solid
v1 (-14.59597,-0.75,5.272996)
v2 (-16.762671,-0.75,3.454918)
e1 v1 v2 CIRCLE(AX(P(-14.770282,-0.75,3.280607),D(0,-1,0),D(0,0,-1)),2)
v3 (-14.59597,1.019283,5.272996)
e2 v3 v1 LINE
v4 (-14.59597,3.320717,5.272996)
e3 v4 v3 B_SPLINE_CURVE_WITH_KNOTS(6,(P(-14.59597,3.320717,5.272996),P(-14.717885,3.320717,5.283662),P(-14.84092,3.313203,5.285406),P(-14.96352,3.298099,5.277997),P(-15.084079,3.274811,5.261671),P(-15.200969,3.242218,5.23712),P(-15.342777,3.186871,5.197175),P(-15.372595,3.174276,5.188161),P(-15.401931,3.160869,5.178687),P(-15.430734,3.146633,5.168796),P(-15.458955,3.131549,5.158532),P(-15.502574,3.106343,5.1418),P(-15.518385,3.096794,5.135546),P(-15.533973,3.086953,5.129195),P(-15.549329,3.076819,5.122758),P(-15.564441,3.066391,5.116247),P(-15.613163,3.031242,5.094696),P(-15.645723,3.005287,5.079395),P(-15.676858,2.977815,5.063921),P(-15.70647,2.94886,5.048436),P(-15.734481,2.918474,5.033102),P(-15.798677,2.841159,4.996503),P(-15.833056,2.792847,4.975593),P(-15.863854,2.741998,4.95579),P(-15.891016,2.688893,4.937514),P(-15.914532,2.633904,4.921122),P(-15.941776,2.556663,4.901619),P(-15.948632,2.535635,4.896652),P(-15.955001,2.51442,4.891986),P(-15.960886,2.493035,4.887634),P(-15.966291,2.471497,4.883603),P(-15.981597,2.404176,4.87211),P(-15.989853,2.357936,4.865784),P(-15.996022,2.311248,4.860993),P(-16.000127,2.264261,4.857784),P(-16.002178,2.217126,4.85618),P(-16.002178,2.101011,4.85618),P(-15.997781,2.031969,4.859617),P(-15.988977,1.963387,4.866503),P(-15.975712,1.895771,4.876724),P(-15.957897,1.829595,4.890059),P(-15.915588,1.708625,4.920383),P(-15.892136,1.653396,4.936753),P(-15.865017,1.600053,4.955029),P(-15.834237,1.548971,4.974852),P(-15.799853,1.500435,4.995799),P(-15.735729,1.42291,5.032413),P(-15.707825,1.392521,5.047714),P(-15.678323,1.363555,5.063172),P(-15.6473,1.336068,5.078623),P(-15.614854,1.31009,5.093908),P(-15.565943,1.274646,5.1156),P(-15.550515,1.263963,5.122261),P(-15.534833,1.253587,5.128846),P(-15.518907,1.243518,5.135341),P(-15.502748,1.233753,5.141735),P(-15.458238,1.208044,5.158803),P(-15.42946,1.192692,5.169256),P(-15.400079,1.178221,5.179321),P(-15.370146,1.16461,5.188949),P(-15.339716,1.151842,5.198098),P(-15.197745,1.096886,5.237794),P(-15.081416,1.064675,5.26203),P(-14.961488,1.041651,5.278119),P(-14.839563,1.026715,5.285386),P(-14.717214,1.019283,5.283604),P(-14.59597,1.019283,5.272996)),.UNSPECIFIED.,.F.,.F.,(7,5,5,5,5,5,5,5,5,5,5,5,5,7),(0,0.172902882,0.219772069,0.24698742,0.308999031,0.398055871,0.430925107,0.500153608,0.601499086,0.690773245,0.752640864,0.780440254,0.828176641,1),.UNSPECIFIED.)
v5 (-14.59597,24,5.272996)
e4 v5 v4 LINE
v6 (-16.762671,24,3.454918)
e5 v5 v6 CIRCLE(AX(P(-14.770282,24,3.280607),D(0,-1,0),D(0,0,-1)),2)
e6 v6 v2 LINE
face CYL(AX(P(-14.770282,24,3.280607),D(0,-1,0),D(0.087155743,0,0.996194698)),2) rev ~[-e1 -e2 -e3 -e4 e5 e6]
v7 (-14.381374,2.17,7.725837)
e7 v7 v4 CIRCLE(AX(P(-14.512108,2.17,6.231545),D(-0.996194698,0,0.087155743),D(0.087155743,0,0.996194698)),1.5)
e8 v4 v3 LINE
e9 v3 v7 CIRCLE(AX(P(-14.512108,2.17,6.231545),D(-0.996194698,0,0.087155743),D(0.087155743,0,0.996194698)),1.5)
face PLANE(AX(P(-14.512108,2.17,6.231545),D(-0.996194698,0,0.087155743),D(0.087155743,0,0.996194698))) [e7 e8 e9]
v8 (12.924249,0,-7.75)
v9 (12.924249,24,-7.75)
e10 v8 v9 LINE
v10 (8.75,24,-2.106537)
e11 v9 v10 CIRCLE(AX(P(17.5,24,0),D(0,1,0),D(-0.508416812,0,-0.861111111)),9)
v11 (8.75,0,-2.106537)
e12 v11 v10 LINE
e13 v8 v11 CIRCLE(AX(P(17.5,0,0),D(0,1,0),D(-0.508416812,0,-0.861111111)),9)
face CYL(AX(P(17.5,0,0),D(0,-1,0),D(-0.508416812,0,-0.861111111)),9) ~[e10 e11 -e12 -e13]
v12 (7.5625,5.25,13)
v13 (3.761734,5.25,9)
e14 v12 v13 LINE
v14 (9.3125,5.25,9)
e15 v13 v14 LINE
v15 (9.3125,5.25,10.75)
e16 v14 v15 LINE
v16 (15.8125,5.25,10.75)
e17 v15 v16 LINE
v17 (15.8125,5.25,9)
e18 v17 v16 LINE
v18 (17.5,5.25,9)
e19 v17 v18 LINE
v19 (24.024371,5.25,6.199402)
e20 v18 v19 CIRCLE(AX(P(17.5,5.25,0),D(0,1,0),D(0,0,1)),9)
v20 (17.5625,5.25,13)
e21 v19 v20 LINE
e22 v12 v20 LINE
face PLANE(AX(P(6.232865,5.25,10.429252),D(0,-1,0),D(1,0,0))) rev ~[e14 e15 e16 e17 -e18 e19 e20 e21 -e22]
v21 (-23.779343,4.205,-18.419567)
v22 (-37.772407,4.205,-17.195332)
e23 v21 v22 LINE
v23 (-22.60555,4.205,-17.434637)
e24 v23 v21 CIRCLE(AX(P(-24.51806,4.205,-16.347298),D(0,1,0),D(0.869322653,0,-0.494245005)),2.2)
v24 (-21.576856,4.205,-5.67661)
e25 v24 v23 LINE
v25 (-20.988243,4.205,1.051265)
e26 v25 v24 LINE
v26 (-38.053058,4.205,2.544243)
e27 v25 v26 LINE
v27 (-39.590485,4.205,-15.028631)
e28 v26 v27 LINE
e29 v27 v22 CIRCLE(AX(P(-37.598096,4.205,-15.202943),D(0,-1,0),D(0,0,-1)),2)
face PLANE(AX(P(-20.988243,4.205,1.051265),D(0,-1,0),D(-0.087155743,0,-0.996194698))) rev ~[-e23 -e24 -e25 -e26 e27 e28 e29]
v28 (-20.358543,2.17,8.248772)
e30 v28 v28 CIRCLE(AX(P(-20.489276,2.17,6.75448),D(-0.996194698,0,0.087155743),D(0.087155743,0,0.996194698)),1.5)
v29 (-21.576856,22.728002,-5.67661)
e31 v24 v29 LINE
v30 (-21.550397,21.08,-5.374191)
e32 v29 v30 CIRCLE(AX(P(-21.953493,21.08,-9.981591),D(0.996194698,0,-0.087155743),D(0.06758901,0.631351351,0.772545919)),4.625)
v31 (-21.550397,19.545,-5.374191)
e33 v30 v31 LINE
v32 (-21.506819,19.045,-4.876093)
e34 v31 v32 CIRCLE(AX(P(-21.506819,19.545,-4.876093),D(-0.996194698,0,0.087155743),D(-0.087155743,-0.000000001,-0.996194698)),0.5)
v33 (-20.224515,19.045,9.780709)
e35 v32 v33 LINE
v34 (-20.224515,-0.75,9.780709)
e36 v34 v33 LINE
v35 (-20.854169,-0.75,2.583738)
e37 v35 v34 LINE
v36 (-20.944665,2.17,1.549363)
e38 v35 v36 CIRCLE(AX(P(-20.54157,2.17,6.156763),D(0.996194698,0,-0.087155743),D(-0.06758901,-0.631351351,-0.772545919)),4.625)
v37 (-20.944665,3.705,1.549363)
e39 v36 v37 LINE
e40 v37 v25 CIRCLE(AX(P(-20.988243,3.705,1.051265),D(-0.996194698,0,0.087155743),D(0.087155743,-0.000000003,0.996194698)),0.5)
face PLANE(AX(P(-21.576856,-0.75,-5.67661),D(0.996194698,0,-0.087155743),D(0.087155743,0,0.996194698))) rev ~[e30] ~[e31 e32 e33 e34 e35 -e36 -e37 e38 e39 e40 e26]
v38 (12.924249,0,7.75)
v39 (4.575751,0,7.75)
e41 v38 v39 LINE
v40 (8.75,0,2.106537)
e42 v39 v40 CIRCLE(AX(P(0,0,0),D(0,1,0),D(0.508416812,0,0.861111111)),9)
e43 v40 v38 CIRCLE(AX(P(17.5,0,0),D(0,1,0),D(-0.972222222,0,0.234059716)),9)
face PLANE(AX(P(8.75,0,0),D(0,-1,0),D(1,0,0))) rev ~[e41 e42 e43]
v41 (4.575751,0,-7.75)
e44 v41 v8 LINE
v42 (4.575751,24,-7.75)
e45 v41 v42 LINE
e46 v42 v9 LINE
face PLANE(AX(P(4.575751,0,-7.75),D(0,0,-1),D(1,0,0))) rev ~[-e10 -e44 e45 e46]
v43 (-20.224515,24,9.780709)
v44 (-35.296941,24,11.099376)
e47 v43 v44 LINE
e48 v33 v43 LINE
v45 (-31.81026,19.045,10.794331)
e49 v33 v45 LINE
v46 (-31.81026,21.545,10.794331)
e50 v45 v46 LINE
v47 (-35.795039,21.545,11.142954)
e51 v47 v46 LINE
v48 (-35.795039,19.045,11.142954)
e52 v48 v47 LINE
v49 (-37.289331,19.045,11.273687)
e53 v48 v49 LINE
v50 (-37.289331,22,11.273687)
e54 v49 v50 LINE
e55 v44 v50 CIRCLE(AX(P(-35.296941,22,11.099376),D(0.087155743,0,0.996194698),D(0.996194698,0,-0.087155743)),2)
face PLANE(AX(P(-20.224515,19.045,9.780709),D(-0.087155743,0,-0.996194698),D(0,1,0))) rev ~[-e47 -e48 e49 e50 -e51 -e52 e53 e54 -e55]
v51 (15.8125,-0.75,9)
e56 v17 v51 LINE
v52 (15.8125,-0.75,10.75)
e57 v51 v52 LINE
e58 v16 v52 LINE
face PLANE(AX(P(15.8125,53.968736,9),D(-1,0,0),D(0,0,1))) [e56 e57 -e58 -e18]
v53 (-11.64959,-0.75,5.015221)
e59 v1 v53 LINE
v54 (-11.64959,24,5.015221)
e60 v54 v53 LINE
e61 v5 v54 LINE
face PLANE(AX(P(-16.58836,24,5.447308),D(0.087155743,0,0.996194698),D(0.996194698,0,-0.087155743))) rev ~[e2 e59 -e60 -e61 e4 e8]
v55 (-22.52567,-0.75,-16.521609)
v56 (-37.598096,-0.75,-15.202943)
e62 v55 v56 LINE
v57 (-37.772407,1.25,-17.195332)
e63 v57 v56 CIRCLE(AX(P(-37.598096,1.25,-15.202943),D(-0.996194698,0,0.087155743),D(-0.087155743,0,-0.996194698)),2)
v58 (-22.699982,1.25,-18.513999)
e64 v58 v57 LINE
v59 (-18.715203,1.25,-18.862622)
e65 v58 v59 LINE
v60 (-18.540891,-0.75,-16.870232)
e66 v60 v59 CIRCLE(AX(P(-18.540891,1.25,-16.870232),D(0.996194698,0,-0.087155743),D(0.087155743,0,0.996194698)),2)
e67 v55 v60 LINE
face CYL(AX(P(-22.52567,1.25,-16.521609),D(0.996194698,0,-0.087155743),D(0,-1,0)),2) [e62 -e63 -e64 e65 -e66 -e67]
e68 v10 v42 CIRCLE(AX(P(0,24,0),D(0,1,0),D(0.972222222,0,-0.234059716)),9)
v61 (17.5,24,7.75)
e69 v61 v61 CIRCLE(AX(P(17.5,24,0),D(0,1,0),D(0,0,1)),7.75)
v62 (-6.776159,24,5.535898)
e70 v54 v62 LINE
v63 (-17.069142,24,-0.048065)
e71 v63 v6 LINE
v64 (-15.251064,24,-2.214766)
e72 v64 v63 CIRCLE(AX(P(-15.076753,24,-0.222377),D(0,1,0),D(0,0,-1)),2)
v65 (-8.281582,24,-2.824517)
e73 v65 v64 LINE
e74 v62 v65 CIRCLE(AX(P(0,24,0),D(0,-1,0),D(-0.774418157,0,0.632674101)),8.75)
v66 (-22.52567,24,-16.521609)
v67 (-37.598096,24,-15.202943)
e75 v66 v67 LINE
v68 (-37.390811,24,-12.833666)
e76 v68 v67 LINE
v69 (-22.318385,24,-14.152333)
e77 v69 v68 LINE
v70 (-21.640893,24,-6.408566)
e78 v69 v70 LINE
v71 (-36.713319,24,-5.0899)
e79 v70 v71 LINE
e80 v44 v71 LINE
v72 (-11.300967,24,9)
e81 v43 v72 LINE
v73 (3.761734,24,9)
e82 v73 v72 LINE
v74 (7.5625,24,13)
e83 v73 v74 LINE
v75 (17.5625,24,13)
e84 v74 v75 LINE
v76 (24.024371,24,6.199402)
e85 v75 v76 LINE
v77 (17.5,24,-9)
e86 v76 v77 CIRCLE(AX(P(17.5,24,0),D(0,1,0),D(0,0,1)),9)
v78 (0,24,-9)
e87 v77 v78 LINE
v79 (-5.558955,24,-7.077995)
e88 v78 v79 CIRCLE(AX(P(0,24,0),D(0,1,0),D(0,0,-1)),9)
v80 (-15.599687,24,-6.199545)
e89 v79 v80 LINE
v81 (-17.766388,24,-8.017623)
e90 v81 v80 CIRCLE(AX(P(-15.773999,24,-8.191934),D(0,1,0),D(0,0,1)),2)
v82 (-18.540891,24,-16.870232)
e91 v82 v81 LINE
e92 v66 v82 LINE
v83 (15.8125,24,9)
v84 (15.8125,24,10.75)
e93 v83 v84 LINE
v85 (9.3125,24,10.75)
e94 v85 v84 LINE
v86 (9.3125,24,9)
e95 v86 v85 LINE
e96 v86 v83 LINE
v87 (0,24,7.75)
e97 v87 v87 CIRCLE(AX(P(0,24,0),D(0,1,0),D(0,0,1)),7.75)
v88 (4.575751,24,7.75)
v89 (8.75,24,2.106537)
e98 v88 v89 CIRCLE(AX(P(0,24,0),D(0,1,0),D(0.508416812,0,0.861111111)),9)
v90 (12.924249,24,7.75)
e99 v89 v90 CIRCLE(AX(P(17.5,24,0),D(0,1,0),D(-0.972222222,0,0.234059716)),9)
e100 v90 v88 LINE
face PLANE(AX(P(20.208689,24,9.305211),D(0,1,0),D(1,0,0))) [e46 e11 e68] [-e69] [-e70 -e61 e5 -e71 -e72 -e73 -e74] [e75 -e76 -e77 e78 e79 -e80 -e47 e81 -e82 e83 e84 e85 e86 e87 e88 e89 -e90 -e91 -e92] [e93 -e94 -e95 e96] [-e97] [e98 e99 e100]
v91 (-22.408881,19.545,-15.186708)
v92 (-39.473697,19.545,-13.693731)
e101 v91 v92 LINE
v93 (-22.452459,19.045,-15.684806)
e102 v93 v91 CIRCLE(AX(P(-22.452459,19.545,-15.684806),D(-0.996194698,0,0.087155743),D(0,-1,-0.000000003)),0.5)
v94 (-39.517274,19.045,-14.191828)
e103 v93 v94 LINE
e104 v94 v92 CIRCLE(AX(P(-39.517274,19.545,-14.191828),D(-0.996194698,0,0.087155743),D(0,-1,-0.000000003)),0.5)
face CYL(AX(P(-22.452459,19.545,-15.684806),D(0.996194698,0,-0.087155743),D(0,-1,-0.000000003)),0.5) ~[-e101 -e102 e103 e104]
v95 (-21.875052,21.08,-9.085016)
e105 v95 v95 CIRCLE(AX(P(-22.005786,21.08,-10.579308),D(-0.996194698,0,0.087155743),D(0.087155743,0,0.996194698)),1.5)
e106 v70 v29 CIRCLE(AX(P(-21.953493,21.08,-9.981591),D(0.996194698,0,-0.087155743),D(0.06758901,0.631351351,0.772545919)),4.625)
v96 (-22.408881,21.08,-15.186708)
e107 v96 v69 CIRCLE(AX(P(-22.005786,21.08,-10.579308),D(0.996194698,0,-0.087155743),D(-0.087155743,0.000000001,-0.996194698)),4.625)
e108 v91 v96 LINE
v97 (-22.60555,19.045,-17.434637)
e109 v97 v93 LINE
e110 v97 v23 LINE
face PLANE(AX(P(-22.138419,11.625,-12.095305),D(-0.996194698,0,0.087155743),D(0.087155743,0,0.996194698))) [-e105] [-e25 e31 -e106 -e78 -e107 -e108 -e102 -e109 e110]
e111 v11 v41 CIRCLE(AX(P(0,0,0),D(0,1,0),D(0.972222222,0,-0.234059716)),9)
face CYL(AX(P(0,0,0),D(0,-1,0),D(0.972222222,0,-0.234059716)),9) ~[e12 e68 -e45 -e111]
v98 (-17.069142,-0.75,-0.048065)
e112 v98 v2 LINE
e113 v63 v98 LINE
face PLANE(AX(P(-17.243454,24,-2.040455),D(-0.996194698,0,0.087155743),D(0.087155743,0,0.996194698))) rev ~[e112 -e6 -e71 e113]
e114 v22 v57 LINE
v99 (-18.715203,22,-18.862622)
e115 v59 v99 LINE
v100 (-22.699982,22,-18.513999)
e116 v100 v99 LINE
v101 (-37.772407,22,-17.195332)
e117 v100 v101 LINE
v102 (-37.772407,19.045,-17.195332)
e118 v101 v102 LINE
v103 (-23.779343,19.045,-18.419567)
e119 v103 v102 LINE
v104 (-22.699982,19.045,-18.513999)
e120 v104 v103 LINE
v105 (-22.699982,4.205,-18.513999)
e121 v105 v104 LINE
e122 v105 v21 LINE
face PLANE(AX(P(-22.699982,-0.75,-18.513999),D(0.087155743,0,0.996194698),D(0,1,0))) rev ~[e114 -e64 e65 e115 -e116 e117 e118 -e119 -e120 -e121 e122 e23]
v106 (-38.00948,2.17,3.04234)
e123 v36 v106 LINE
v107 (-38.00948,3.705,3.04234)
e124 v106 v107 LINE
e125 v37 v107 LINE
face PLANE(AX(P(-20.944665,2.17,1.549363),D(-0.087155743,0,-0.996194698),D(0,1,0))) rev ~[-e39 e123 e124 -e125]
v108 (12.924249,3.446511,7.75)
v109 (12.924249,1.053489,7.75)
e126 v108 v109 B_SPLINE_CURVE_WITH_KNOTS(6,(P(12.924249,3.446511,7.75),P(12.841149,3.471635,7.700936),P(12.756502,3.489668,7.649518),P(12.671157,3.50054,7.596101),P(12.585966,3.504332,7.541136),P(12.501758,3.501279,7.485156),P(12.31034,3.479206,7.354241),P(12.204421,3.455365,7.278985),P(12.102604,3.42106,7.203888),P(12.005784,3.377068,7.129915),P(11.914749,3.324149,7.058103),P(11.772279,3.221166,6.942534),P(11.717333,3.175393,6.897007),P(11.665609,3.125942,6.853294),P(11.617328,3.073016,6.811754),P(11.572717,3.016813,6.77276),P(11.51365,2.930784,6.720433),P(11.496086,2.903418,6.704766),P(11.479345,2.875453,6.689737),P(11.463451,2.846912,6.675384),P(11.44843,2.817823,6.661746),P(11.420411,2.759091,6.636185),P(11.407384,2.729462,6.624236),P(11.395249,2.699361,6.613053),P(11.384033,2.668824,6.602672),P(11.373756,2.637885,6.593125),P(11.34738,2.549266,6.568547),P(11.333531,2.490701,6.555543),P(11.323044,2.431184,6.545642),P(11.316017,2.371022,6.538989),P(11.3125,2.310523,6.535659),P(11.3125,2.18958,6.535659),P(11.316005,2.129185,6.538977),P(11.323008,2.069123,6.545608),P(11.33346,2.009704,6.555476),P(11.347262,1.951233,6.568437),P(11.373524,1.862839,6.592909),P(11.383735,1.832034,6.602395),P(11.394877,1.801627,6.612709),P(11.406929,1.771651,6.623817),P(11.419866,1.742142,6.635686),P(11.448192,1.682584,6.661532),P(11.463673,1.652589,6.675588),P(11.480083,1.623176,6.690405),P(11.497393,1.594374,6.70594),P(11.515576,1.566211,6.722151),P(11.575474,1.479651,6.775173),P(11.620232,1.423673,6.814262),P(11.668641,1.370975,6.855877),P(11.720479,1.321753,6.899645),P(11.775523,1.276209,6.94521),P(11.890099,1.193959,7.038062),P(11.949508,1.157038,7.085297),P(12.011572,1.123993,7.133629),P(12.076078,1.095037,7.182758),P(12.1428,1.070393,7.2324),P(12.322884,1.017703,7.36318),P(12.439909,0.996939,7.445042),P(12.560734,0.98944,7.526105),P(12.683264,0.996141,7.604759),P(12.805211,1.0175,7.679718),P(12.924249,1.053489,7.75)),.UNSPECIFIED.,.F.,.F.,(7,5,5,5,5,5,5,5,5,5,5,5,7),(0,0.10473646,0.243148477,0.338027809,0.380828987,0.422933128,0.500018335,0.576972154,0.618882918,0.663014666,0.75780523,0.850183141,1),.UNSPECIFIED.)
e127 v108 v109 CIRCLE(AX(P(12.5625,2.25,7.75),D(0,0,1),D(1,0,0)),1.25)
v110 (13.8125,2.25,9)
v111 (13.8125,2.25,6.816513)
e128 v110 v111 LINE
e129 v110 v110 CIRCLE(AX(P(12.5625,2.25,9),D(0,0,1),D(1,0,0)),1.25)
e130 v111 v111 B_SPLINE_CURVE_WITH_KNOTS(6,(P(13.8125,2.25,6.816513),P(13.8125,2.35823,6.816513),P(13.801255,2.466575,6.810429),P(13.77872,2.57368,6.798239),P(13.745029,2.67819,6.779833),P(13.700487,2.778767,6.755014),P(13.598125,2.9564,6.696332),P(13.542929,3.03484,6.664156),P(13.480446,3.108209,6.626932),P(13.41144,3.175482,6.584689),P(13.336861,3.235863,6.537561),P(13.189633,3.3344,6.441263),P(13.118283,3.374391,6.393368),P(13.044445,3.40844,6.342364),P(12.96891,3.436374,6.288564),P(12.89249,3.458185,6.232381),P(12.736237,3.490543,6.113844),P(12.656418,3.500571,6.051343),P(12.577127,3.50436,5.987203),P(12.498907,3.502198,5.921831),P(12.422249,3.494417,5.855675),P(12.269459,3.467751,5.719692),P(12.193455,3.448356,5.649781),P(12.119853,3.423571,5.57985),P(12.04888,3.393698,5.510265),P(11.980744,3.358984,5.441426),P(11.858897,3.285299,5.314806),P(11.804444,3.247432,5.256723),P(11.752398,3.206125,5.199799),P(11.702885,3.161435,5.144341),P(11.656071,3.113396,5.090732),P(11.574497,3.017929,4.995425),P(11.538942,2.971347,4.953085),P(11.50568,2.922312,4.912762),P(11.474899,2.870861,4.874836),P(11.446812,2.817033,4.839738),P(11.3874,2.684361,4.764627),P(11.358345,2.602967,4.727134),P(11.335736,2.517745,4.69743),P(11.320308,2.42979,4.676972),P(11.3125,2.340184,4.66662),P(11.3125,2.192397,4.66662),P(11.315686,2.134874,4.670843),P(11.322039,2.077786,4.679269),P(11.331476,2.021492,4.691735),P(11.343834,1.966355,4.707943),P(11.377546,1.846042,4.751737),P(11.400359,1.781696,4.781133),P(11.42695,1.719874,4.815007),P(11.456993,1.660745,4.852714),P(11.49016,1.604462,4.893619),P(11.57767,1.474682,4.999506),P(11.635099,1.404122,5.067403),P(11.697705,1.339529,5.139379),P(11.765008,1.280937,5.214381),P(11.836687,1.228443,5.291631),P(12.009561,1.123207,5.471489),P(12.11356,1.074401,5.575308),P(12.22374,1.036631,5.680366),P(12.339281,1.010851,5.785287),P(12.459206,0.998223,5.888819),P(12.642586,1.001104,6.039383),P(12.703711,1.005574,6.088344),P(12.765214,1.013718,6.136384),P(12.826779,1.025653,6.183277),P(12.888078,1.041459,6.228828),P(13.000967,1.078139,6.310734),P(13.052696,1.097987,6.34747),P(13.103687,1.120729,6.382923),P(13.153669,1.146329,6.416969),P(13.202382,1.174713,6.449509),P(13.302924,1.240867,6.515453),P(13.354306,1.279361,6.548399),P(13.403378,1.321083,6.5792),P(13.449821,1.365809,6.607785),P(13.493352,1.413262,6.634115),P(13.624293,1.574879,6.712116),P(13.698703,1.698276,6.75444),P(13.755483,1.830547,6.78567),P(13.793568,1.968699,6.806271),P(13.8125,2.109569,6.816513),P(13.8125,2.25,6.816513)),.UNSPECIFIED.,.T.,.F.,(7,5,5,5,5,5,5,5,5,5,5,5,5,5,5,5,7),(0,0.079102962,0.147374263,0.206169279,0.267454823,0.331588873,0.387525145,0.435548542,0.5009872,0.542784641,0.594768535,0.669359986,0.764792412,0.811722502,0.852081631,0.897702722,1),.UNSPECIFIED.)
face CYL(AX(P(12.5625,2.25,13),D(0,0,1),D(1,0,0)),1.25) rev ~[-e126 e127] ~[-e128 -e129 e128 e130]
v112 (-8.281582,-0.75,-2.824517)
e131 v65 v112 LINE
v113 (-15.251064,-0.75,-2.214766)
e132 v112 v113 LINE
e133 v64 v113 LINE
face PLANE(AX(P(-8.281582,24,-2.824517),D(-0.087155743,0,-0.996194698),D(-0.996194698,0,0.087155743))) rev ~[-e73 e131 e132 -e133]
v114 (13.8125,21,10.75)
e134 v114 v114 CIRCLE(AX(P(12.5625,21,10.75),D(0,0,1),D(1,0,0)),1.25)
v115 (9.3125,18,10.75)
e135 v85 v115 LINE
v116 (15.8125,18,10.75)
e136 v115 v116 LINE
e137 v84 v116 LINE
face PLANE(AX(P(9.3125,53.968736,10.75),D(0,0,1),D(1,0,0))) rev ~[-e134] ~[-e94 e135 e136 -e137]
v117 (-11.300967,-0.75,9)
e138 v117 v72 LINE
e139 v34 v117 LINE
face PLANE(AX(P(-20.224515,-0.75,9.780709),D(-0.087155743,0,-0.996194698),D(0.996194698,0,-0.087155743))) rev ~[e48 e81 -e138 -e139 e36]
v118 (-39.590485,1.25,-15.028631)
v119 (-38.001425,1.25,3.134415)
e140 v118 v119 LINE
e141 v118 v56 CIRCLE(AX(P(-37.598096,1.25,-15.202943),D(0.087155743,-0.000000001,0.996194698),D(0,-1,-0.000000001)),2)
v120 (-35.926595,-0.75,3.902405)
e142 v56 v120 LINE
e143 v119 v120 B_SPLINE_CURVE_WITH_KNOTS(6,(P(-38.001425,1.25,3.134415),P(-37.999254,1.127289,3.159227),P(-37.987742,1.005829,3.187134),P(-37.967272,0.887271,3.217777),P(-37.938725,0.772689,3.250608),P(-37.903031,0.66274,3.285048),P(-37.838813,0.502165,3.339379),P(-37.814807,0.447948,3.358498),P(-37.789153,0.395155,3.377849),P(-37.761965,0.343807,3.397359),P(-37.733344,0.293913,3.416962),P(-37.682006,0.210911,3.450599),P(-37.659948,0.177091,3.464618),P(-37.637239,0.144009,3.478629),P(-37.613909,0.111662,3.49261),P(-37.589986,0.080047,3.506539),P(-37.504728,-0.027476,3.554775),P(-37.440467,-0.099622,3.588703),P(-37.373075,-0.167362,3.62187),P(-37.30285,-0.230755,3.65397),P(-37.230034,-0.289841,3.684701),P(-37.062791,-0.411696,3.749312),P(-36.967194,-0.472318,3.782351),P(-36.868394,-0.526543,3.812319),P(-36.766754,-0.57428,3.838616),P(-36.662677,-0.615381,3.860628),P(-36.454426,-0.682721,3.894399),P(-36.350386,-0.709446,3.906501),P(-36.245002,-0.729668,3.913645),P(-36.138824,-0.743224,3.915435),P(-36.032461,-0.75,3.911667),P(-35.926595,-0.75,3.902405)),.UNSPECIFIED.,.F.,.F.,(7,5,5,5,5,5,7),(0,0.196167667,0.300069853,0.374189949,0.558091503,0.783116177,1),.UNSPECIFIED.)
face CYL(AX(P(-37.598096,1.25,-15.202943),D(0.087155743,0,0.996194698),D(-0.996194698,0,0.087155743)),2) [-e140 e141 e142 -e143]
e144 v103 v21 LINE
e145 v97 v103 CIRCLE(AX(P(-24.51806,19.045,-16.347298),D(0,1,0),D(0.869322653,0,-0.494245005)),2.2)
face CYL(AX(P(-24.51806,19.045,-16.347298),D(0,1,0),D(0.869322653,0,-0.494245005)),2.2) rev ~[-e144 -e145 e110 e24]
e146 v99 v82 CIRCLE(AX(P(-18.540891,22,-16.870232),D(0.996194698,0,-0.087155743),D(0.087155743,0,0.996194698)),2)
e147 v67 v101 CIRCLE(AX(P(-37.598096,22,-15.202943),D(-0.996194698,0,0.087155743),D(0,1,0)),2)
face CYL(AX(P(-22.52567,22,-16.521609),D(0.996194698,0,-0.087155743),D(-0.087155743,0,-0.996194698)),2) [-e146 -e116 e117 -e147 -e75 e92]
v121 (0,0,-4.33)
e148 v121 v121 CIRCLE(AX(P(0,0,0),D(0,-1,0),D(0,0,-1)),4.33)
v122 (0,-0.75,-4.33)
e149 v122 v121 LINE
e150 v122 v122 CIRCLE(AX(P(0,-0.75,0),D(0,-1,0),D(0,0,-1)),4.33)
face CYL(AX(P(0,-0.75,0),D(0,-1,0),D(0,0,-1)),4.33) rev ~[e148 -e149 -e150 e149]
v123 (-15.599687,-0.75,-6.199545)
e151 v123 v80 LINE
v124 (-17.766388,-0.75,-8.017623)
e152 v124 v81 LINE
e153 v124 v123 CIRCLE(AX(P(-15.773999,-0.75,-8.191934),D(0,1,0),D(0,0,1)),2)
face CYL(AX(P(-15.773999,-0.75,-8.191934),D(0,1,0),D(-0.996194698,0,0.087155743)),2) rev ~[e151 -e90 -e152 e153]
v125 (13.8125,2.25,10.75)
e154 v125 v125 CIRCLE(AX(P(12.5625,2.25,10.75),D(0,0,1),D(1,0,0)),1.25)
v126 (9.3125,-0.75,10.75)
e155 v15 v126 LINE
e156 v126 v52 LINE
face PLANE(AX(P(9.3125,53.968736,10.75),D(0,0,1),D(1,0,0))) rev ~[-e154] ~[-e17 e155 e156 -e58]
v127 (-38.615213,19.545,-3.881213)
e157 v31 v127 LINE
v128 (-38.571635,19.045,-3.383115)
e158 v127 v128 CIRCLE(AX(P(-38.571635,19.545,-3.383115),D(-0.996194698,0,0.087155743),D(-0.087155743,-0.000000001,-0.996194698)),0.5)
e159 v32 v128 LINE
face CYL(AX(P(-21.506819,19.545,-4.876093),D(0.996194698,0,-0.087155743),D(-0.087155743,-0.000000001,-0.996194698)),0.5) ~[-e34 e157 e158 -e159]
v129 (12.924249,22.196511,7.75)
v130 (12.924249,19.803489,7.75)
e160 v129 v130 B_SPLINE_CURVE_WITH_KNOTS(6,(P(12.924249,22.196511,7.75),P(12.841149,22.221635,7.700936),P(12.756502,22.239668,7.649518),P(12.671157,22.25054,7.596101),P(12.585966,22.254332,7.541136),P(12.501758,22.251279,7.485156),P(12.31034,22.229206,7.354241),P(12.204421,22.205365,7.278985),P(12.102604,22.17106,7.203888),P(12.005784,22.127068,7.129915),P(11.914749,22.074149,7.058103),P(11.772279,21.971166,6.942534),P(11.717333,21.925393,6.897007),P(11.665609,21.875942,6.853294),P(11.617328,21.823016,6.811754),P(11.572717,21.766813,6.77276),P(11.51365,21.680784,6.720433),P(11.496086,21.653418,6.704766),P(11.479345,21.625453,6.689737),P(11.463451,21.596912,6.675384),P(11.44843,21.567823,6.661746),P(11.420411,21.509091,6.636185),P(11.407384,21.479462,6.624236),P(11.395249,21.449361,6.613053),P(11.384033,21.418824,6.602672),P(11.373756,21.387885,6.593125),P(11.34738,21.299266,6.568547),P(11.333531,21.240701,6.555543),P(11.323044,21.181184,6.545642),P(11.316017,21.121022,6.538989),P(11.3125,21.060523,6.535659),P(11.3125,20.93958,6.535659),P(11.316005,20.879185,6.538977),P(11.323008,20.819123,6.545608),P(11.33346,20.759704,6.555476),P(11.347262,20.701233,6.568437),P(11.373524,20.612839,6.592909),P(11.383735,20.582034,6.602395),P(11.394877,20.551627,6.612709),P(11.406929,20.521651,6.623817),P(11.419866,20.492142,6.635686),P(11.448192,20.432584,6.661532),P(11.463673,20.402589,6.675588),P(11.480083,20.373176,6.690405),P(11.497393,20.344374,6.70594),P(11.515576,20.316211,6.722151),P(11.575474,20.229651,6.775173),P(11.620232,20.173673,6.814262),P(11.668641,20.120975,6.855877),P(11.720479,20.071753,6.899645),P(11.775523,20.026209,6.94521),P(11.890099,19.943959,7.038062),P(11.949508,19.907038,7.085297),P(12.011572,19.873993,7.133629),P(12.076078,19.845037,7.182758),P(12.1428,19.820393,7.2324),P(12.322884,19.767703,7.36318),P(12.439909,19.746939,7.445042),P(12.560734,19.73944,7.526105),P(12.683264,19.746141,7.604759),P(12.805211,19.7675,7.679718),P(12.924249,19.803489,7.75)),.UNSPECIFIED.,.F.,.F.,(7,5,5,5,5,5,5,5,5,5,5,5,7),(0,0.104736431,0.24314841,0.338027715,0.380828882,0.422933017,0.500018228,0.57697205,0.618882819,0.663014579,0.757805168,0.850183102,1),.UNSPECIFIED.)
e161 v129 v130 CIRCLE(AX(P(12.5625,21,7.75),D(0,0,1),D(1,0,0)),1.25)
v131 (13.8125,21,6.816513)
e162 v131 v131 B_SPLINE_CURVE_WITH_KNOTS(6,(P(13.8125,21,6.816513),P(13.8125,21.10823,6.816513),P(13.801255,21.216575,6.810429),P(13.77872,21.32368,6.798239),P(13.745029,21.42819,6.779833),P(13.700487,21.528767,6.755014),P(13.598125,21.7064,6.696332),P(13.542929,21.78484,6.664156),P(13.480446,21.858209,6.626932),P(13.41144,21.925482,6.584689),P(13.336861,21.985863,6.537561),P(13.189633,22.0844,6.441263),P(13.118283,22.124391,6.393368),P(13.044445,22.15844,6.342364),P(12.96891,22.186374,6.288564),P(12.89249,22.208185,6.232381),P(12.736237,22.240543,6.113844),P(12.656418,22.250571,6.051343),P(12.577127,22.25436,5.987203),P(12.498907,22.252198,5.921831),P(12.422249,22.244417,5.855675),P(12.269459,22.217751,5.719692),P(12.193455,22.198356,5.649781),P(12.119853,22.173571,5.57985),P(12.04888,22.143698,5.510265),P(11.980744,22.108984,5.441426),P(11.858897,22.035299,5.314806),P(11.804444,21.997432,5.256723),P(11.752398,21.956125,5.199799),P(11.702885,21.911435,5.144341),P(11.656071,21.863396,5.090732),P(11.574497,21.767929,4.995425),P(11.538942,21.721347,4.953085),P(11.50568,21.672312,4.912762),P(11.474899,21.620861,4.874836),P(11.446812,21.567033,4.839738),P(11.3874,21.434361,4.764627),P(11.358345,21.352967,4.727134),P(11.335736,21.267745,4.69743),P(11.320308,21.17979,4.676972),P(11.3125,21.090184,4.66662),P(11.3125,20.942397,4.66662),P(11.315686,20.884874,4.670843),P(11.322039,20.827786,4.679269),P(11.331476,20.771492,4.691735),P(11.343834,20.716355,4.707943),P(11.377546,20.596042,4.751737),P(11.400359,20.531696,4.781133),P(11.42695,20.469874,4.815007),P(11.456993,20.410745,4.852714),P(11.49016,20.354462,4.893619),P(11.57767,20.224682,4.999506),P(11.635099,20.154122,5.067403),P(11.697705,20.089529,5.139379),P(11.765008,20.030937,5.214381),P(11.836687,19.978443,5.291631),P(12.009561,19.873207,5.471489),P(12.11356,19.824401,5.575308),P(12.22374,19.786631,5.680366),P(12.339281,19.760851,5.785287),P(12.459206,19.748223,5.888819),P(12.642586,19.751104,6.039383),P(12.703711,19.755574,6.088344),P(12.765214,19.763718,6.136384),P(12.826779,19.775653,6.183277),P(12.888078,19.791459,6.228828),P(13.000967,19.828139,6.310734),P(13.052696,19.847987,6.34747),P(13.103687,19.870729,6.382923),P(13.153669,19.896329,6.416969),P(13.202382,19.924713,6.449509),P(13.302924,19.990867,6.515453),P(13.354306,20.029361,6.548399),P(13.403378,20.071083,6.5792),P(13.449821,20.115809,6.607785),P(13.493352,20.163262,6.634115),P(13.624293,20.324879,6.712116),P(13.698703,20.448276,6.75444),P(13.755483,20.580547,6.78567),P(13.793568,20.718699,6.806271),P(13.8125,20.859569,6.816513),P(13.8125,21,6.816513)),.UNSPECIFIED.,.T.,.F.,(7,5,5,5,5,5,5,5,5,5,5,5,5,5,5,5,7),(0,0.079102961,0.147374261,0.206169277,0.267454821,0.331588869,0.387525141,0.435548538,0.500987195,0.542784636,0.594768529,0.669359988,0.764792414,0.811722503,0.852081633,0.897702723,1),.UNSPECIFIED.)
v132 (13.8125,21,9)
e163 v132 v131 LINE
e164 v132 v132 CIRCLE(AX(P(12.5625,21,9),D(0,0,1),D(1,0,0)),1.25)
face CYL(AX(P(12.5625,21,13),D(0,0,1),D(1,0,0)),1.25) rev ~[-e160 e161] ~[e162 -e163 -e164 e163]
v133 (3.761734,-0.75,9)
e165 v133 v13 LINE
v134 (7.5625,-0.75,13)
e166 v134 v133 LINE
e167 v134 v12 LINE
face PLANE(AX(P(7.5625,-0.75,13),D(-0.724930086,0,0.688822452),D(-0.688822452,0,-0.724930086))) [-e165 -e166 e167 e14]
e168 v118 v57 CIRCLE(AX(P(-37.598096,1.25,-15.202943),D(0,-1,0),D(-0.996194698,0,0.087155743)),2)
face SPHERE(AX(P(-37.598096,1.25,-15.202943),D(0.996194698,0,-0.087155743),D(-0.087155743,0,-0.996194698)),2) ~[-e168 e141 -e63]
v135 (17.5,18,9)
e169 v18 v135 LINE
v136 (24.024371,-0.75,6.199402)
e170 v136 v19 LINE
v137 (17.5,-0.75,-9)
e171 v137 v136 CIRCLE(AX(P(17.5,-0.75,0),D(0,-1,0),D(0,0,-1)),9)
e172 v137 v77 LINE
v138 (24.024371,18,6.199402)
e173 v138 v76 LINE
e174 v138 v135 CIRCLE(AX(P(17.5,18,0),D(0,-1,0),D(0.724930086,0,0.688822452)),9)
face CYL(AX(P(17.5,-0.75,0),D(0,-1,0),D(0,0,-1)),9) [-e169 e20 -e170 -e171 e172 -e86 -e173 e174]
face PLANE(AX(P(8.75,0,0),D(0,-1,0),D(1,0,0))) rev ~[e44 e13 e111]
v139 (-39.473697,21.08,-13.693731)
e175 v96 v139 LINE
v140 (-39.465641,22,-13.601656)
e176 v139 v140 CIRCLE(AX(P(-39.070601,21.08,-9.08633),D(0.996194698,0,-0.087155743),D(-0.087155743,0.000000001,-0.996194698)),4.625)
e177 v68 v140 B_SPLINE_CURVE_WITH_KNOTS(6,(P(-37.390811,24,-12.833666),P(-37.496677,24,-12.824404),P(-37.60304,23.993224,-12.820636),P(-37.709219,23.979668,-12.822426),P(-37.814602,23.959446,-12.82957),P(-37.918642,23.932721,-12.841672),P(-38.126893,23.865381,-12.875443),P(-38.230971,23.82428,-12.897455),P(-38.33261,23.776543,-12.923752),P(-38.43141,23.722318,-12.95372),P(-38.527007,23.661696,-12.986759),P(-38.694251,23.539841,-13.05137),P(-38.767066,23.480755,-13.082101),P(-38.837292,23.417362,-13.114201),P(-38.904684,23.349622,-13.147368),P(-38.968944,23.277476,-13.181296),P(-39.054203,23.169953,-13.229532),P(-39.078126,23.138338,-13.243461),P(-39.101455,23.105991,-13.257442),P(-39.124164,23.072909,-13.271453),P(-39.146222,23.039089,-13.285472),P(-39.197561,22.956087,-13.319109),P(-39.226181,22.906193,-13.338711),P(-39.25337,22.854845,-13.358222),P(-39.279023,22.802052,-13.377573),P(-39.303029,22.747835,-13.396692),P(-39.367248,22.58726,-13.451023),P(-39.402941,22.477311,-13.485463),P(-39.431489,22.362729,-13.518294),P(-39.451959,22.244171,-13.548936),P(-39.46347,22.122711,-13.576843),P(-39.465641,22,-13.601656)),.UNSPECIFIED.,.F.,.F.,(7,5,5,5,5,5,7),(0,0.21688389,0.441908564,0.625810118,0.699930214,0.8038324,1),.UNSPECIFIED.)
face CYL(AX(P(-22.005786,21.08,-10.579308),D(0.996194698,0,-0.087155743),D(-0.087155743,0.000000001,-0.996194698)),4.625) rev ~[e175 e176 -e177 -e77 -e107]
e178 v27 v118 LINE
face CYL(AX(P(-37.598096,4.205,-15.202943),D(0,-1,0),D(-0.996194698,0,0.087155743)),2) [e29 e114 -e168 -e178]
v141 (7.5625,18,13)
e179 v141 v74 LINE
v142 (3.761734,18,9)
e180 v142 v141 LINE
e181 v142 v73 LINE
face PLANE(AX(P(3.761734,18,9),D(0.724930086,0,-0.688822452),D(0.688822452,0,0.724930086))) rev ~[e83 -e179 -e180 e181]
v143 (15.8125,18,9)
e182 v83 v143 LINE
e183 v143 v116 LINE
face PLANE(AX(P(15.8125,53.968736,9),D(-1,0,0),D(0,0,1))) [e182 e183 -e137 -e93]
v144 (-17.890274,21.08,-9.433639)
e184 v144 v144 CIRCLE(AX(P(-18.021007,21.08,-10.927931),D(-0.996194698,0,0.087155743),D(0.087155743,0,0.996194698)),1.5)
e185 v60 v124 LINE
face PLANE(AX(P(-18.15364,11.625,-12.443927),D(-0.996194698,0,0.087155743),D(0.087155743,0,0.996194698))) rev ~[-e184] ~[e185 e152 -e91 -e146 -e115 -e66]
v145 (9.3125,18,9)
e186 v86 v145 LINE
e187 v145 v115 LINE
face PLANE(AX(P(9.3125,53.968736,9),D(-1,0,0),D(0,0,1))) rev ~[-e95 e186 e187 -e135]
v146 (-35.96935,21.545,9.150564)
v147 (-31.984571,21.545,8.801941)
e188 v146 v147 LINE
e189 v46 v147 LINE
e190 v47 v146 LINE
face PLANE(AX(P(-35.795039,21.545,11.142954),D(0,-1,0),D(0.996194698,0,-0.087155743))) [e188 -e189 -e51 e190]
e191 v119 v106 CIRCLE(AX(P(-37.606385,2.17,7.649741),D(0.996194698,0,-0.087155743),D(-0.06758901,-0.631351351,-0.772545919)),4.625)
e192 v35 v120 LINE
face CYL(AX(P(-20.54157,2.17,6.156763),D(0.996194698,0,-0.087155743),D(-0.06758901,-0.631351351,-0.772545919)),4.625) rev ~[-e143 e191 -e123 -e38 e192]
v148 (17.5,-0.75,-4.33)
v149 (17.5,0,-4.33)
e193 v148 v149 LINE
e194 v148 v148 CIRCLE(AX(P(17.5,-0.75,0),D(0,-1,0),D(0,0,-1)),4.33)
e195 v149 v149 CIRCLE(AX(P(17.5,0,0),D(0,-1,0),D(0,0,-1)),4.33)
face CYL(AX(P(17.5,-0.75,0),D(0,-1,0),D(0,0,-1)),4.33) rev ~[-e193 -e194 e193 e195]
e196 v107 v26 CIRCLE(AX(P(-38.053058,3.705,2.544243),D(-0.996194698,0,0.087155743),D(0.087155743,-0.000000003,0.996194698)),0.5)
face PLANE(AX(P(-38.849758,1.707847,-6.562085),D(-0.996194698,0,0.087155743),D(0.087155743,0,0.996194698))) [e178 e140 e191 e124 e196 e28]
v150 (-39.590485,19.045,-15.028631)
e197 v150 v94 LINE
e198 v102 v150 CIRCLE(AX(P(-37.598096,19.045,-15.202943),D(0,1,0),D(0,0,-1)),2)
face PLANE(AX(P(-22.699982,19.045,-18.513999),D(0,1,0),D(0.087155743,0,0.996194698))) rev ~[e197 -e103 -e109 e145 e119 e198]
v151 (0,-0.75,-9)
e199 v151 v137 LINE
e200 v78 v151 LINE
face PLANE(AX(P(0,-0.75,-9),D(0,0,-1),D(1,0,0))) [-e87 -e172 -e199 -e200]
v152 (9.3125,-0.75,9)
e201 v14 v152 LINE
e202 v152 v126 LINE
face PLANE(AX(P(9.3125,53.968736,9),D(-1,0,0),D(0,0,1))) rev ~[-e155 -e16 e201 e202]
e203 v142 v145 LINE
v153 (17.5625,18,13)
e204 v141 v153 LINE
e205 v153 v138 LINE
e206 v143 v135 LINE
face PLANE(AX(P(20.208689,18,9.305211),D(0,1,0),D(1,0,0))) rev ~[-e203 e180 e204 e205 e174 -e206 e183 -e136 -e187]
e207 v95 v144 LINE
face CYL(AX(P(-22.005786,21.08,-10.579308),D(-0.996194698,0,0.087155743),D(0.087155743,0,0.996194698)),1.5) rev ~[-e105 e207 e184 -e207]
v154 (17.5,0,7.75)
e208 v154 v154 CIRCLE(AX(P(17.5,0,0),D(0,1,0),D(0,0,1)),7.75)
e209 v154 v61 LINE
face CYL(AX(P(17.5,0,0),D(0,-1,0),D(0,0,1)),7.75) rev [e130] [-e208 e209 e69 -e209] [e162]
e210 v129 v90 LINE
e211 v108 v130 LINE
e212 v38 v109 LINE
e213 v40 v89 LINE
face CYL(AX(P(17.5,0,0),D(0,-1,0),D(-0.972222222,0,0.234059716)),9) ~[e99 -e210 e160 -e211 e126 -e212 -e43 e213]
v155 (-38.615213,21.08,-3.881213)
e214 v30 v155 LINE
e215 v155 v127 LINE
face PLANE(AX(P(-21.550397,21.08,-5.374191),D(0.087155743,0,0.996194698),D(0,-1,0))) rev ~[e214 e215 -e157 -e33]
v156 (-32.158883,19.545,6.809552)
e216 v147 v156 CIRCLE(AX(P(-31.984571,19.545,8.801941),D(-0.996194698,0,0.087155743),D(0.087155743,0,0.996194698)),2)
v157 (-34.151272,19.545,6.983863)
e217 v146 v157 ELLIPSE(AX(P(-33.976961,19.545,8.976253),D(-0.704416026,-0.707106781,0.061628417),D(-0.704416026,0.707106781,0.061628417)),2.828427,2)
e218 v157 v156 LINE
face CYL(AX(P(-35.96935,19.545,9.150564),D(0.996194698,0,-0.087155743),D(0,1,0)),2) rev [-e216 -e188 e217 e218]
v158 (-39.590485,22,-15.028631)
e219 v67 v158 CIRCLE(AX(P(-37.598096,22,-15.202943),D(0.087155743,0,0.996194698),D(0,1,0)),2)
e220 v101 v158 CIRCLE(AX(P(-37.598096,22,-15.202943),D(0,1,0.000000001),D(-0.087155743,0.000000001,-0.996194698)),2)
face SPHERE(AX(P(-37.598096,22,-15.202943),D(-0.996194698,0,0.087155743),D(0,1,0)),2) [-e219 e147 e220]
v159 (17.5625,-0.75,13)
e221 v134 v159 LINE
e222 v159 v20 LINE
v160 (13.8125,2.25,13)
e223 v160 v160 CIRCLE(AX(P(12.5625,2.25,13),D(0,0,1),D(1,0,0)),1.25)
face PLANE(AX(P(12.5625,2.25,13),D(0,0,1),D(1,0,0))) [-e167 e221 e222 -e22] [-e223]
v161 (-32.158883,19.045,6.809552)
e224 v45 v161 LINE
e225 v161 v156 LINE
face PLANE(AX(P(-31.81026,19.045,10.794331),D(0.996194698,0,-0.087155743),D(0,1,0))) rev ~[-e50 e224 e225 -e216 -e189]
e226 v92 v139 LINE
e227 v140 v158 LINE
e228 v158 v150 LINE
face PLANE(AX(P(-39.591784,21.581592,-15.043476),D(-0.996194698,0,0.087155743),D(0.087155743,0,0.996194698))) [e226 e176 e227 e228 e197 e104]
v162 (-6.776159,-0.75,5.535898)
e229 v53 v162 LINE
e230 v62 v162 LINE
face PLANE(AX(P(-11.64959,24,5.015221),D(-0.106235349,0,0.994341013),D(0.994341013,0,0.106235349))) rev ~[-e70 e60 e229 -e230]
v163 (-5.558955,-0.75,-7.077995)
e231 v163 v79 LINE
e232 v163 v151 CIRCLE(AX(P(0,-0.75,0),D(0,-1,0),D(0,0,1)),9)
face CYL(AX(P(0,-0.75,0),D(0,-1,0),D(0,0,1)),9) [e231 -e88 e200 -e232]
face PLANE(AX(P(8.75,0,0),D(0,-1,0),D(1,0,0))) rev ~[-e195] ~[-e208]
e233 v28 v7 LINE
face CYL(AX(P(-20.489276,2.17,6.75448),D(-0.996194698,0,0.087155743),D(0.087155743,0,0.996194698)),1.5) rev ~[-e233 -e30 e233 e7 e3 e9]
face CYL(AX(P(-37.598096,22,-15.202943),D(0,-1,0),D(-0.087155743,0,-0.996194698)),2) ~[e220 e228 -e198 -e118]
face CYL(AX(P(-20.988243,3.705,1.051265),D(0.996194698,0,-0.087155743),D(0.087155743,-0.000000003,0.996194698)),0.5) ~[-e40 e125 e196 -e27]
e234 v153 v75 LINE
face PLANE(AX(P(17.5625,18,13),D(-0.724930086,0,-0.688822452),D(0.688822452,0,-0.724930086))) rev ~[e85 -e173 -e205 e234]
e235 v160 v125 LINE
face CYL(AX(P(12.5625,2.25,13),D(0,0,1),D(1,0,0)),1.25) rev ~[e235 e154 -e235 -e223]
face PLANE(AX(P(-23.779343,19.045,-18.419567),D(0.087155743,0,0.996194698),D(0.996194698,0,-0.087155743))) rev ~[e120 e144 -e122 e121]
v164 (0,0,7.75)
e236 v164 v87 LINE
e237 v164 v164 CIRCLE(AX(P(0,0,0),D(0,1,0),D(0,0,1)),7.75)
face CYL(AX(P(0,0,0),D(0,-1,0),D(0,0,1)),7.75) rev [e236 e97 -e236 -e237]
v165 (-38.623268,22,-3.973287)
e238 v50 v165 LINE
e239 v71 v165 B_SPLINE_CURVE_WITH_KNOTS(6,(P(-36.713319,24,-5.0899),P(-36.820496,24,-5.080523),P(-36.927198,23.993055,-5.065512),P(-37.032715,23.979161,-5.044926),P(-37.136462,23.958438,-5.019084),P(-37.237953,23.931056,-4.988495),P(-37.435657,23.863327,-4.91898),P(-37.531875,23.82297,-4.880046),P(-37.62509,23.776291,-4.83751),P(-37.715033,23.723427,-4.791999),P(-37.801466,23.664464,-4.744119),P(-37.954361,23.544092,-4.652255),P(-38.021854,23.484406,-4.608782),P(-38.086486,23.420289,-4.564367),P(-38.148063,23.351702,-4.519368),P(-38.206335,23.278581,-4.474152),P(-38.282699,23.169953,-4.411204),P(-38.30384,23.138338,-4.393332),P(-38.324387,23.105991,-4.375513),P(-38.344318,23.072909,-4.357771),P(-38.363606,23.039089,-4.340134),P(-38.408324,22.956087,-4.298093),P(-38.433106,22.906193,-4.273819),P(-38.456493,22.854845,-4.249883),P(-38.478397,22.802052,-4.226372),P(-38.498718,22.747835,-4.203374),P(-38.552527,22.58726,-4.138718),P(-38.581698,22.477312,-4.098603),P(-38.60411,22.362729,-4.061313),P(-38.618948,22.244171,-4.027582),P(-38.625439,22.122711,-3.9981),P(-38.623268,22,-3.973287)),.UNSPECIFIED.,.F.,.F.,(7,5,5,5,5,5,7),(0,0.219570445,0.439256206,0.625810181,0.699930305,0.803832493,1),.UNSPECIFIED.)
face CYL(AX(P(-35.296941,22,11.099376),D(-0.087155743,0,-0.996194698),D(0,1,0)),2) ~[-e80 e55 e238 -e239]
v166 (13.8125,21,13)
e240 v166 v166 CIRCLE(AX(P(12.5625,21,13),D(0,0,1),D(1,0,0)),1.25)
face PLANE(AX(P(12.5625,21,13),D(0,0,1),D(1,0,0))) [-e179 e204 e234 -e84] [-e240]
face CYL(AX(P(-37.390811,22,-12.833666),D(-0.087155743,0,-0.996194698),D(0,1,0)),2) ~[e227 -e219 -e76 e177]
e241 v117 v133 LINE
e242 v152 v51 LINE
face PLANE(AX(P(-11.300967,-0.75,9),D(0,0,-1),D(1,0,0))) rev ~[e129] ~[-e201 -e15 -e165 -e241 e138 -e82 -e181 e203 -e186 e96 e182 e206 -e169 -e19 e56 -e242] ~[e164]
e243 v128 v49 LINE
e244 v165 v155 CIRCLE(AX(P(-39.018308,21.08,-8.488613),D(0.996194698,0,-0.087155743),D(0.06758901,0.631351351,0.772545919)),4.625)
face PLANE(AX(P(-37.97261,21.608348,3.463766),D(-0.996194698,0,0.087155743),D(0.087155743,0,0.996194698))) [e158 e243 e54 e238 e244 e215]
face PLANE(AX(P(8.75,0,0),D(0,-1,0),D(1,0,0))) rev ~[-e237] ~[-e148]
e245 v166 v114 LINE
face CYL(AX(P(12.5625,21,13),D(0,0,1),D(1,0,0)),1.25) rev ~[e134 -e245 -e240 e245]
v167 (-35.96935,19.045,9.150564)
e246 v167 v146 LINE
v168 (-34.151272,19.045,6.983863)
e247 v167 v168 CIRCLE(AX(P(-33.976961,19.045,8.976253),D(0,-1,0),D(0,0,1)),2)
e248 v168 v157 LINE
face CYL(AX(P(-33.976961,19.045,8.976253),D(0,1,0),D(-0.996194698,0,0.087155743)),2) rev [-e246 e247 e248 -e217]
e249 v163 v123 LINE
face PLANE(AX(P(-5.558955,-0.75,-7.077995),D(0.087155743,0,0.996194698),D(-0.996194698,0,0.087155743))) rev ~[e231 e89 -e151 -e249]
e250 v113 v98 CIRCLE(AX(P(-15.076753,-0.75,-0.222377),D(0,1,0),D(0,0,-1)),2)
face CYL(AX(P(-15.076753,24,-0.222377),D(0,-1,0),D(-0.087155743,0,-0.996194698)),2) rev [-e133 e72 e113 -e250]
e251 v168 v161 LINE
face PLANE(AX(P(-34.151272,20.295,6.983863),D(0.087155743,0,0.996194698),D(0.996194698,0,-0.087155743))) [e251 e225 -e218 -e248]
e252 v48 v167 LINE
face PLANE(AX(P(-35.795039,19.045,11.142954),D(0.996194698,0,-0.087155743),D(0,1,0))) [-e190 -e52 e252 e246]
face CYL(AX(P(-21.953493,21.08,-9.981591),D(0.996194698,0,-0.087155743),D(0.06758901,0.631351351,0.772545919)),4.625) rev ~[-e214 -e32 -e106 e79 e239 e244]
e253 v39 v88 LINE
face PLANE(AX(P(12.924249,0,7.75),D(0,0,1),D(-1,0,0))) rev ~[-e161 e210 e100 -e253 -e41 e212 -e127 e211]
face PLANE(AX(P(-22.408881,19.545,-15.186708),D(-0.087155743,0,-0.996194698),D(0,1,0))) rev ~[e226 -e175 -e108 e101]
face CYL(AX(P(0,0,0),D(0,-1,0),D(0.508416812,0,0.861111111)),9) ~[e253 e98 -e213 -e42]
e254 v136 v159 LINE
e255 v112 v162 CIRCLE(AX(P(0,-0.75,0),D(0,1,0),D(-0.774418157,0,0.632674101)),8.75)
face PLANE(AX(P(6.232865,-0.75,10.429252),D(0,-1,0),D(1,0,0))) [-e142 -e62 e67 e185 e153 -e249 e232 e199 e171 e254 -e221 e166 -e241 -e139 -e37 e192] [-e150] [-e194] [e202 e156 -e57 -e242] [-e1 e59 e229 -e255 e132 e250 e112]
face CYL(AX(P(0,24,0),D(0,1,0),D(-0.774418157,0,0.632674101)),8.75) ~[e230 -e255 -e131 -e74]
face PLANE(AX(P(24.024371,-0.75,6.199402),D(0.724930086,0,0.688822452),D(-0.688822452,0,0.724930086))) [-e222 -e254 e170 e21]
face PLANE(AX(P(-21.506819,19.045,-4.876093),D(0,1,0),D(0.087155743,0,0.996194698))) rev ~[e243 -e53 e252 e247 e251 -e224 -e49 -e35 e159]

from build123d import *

# Parameters (mm, degrees)
SKETCH1_R               = 7.75
BOSS_EXTRUDE1_DEPTH     = 24
BOSS_EXTRUDE2_START     = 0.75
SKETCH2_R               = 4.33
BOSS_EXTRUDE2_DEPTH     = 0.75
SKETCH4_W               = 10
SKETCH4_H               = 6
BOSS_EXTRUDE4_DEPTH     = 4
CUT_EXTRUDE1_DEPTH      = 35.968736037
CUT_EXTRUDE1_DEPTH_BACK = 35.968736037
SKETCH5_W               = 6.5
SKETCH5_H               = 1.75
SKETCH6_R               = 1.25
CUT_EXTRUDE2_DEPTH      = 16
BOSS_EXTRUDE5_START     = -24.75
BOSS_EXTRUDE5_DEPTH     = 24.75
CUT_EXTRUDE3_DEPTH      = 39.520286863
SKETCH9_W               = 12.886425037
SKETCH9_H               = 24.75
BOSS_EXTRUDE6_DEPTH     = 4
FILLET1_R               = 2
FILLET2_R               = 2
BOSS_EXTRUDE9_DEPTH     = 17.13
SKETCH14_R              = 1.5
CUT_EXTRUDE5_DEPTH      = 6
BOSS_EXTRUDE10_DEPTH    = 14.84
FILLET4_R               = 2
SKETCH16_W              = 4
SKETCH16_H              = 2.5
CUT_EXTRUDE6_DEPTH      = 4
FILLET5_R               = 2
BOSS_EXTRUDE11_DEPTH    = 6
BOSS_EXTRUDE12_START    = -6
BOSS_EXTRUDE12_DEPTH    = 6


with BuildPart() as part:
    # Sketch1 → Boss-Extrude1 (new body)
    with BuildSketch(Plane(origin=(0, 0, 0), x_dir=(1, 0, 0), z_dir=(0, 1, 0))):
        with BuildLine():
            Line((0, -9), (17.5, -9))
            ThreePointArc((17.5, -9), (26.5, 0), (17.5, 9))
            Line((17.5, 9), (0, 9))
            ThreePointArc((0, 9), (-9, 0), (0, -9))
        make_face()
        with Locations(Location((17.5, 0, 0), (0, 0, 270))):
            Circle(SKETCH1_R, mode=Mode.SUBTRACT)
        with BuildLine():
            ThreePointArc((8.75, -2.106537443), (10.26424991, -5.352001554), (12.924248696, -7.75))
            Line((12.924248696, -7.75), (4.575751304, -7.75))
            ThreePointArc((4.575751304, -7.75), (7.23575009, -5.352001554), (8.75, -2.106537443))
        make_face(mode=Mode.SUBTRACT)
        with Locations(Location((0, 0, 0), (0, 0, 270))):
            Circle(SKETCH1_R, mode=Mode.SUBTRACT)
        with BuildLine():
            Line((4.575751304, 7.75), (12.924248696, 7.75))
            ThreePointArc((12.924248696, 7.75), (10.26424991, 5.352001554), (8.75, 2.106537443))
            ThreePointArc((8.75, 2.106537443), (7.23575009, 5.352001554), (4.575751304, 7.75))
        make_face(mode=Mode.SUBTRACT)
    extrude(amount=BOSS_EXTRUDE1_DEPTH)

    # Sketch2 → Boss-Extrude2 (add)
    with BuildSketch(Plane.XZ.offset(BOSS_EXTRUDE2_START)):
        with BuildLine():
            Line((17.5, 9), (0, 9))
            ThreePointArc((0, 9), (-9, 0), (0, -9))
            Line((0, -9), (17.5, -9))
            ThreePointArc((17.5, -9), (26.5, 0), (17.5, 9))
        make_face()
        with Locations(Location((17.5, 0, 0), (0, 0, 270))):
            Circle(SKETCH2_R, mode=Mode.SUBTRACT)
        with Locations(Location((0, 0, 0), (0, 0, 270))):
            Circle(SKETCH2_R, mode=Mode.SUBTRACT)
    extrude(amount=-BOSS_EXTRUDE2_DEPTH)

    # Sketch4 → Boss-Extrude4 (add)
    with BuildSketch(Plane.XY.offset(9)):
        with Locations((12.5625, 2.25)):
            Rectangle(SKETCH4_W, SKETCH4_H)
        with Locations((12.5625, 21)):
            Rectangle(SKETCH4_W, SKETCH4_H)
    extrude(amount=BOSS_EXTRUDE4_DEPTH)

    # Sketch5 → Cut-Extrude1 (cut, two sides: drawn at the far end of the back side and taken through both)
    with BuildSketch(Plane.XZ.offset(-18).offset(-CUT_EXTRUDE1_DEPTH_BACK)):
        with Locations((12.5625, 9.875)):
            Rectangle(SKETCH5_W, SKETCH5_H)
    extrude(amount=CUT_EXTRUDE1_DEPTH + CUT_EXTRUDE1_DEPTH_BACK, mode=Mode.SUBTRACT)

    # Sketch6 → Cut-Extrude2 (cut)
    with BuildSketch(Plane.XY.offset(13)):
        with Locations((12.5625, 2.25)):
            Circle(SKETCH6_R)
        with Locations((12.5625, 21)):
            Circle(SKETCH6_R)
    extrude(amount=-CUT_EXTRUDE2_DEPTH, mode=Mode.SUBTRACT)

    # Sketch7 → Boss-Extrude5 (add)
    with BuildSketch(Plane(origin=(0, 24, 0), x_dir=(1, 0, 0), z_dir=(0, 1, 0)).offset(BOSS_EXTRUDE5_START)):
        with BuildLine():
            Line((-20.224515403, -9.780709308), (-11.300967177, -9))
            Line((-11.300967177, -9), (0, -9))
            ThreePointArc((0, -9), (-8.505937794, -2.940922006), (-5.558955476, 7.077995056))
            Line((-5.558955476, 7.077995056), (-21.576855644, 5.676610378))
            Line((-21.576855644, 5.676610378), (-20.224515403, -9.780709308))
        make_face()
    extrude(amount=BOSS_EXTRUDE5_DEPTH)

    # Sketch8 → Cut-Extrude3 (cut, through all)
    with BuildSketch(Plane(origin=(0, 24, 0), x_dir=(1, 0, 0), z_dir=(0, 1, 0))):
        with BuildLine():
            Line((-16.588359581, -5.447307545), (-11.649590148, -5.015221208))
            Line((-11.649590148, -5.015221208), (-6.776158873, -5.535898385))
            ThreePointArc((-6.776158873, -5.535898385), (-8.611505528, -1.550636174), (-8.281582293, 2.824516725))
            Line((-8.281582293, 2.824516725), (-17.24345388, 2.040454557))
            Line((-17.24345388, 2.040454557), (-16.588359581, -5.447307545))
        make_face()
    extrude(amount=-CUT_EXTRUDE3_DEPTH, mode=Mode.SUBTRACT)

    # Sketch9 → Boss-Extrude6 (add)
    with BuildSketch(Plane(origin=(-20.92008866, 0, 1.830270598), x_dir=(0.08715574274765853, 0, 0.9961946980917455), z_dir=(-0.9961946980917455, 0, 0.08715574274765853))):
        with Locations((-13.978768561, 11.625)):
            Rectangle(SKETCH9_W, SKETCH9_H)
    extrude(amount=-BOSS_EXTRUDE6_DEPTH)

    # Fillet1
    fillet1_edges = [part.edges().sort_by_distance(p)[0] for p in [
        (-16.588359581, 11.625, 5.447307545),
        (-17.24345388, 11.625, -2.040454557),
        (-17.592076851, 11.625, -6.025233349),
    ]]
    fillet(fillet1_edges, radius=FILLET1_R)

    # Fillet2
    fillet2_edges = [part.edges().sort_by_distance(p)[0] for p in [
        (-20.707592193, -0.75, -18.688310163),
        (-20.707592193, 24, -18.688310163),
    ]]
    fillet(fillet2_edges, radius=FILLET2_R)

    # Sketch13 → Boss-Extrude9 (add)
    with BuildSketch(Plane(origin=(-20.92008866, 0, 1.830270598), x_dir=(0.08715574274765853, 0, 0.9961946980917455), z_dir=(-0.9961946980917455, 0, 0.08715574274765853))):
        with BuildLine():
            Line((-7.231981079, 21.08), (-7.231981079, 19.545))
            ThreePointArc((-7.231981079, 19.545), (-7.085534469, 19.191446609), (-6.731981079, 19.045))
            Line((-6.731981079, 19.045), (7.980808095, 19.045))
            Line((7.980808095, 19.045), (7.980808095, 24))
            Line((7.980808095, 24), (-8.270307829, 24))
            ThreePointArc((-8.270307829, 24), (-7.499287378, 22.629558198), (-7.231981079, 21.08))
        make_face()
        with BuildLine():
            Line((-20.421981079, 19.045), (-17.581981079, 19.045))
            ThreePointArc((-17.581981079, 19.045), (-17.228427688, 19.191446609), (-17.081981079, 19.545))
            Line((-17.081981079, 19.545), (-17.081981079, 21.08))
            ThreePointArc((-17.081981079, 21.08), (-16.814674779, 22.629558198), (-16.043654328, 24))
            Line((-16.043654328, 24), (-18.421981079, 24))
            ThreePointArc((-18.421981079, 24), (-19.836194641, 23.414213562), (-20.421981079, 22))
            Line((-20.421981079, 22), (-20.421981079, 19.045))
        make_face()
        with BuildLine():
            ThreePointArc((-0.281981079, 3.705), (-0.428427688, 4.058553391), (-0.781981079, 4.205))
            Line((-0.781981079, 4.205), (-20.421981079, 4.205))
            Line((-20.421981079, 4.205), (-20.421981079, 1.25))
            ThreePointArc((-20.421981079, 1.25), (-19.836194641, -0.164213562), (-18.421981079, -0.75))
            Line((-18.421981079, -0.75), (0.756345672, -0.75))
            ThreePointArc((0.756345672, -0.75), (-0.014674779, 0.620441802), (-0.281981079, 2.17))
            Line((-0.281981079, 2.17), (-0.281981079, 3.705))
        make_face()
    extrude(amount=BOSS_EXTRUDE9_DEPTH)

    # Sketch14 → Cut-Extrude5 (cut)
    with BuildSketch(Plane(origin=(-20.92008866, 0, 1.830270598), x_dir=(0.08715574274765853, 0, 0.9961946980917455), z_dir=(-0.9961946980917455, 0, 0.08715574274765853))):
        with Locations((-12.456981079, 21.08)):
            Circle(SKETCH14_R)
        with Locations((4.943018921, 2.17)):
            Circle(SKETCH14_R)
    extrude(amount=-CUT_EXTRUDE5_DEPTH, mode=Mode.SUBTRACT)

    # Sketch15 → Boss-Extrude10 (add)
    with BuildSketch(Plane.XZ.offset(-19.045)):
        with BuildLine():
            ThreePointArc((-22.605549661, -17.434636803), (-23.103926759, -18.03259557), (-23.779343463, -18.419566749))
            Line((-23.779343463, -18.419566749), (-22.699981589, -18.513998677))
            Line((-22.699981589, -18.513998677), (-22.605549661, -17.434636803))
        make_face()
    extrude(amount=BOSS_EXTRUDE10_DEPTH)

    # Fillet4
    fillet4_edges = [part.edges().sort_by_distance(p)[0] for p in [
        (-37.99751962, 24, 3.179049421),
        (-38.754734626, -0.75, -5.475957694),
        (-39.713742115, -0.164213562, -16.437463461),
        (-39.764796768, 2.7275, -17.021020804),
        (-39.764796768, 20.5225, -17.021020804),
        (-39.713742115, 23.414213562, -16.437463461),
        (-39.486842865, 24, -13.843993158),
    ]]
    fillet(fillet4_edges, radius=FILLET4_R)

    # Sketch16 → Cut-Extrude6 (cut)
    with BuildSketch(Plane(origin=(0.695573257, 0, 7.95043871), x_dir=(0.9961946980917455, 0, -0.08715574274765835), z_dir=(0.08715574274765836, 0, 0.9961946980917457))):
        with Locations((-34.63, 20.295)):
            Rectangle(SKETCH16_W, SKETCH16_H)
    extrude(amount=-CUT_EXTRUDE6_DEPTH, mode=Mode.SUBTRACT)

    # Fillet5
    fillet5_edges = [part.edges().sort_by_distance(p)[0] for p in [
        (-36.143661505, 20.295, 7.158174775),
        (-34.151272109, 21.545, 6.983863289),
    ]]
    fillet(fillet5_edges, radius=FILLET5_R)

    # Sketch17 → Boss-Extrude11 (add)
    with BuildSketch(Plane.XZ.offset(0.75)):
        Polygon((7.5625, 9), (7.5625, 13), (3.76173375, 9), align=None)
        with BuildLine():
            Line((24.024370778, 6.199402064), (17.5625, 13))
            Line((17.5625, 13), (17.5625, 9))
            Line((17.5625, 9), (17.5, 9))
            ThreePointArc((17.5, 9), (21.050026861, 8.270266579), (24.024370778, 6.199402064))
        make_face()
    extrude(amount=-BOSS_EXTRUDE11_DEPTH)

    # Sketch18 → Boss-Extrude12 (add)
    with BuildSketch(Plane(origin=(0, 24, 0), x_dir=(1, 0, 0), z_dir=(0, 1, 0)).offset(BOSS_EXTRUDE12_START)):
        with BuildLine():
            ThreePointArc((24.024370778, -6.199402064), (21.050026861, -8.270266579), (17.5, -9))
            Line((17.5, -9), (17.5625, -9))
            Line((17.5625, -9), (17.5625, -13))
            Line((17.5625, -13), (24.024370778, -6.199402064))
        make_face()
        Polygon((7.5625, -13), (7.5625, -9), (3.76173375, -9), align=None)
    extrude(amount=BOSS_EXTRUDE12_DEPTH)


solid = part.part
